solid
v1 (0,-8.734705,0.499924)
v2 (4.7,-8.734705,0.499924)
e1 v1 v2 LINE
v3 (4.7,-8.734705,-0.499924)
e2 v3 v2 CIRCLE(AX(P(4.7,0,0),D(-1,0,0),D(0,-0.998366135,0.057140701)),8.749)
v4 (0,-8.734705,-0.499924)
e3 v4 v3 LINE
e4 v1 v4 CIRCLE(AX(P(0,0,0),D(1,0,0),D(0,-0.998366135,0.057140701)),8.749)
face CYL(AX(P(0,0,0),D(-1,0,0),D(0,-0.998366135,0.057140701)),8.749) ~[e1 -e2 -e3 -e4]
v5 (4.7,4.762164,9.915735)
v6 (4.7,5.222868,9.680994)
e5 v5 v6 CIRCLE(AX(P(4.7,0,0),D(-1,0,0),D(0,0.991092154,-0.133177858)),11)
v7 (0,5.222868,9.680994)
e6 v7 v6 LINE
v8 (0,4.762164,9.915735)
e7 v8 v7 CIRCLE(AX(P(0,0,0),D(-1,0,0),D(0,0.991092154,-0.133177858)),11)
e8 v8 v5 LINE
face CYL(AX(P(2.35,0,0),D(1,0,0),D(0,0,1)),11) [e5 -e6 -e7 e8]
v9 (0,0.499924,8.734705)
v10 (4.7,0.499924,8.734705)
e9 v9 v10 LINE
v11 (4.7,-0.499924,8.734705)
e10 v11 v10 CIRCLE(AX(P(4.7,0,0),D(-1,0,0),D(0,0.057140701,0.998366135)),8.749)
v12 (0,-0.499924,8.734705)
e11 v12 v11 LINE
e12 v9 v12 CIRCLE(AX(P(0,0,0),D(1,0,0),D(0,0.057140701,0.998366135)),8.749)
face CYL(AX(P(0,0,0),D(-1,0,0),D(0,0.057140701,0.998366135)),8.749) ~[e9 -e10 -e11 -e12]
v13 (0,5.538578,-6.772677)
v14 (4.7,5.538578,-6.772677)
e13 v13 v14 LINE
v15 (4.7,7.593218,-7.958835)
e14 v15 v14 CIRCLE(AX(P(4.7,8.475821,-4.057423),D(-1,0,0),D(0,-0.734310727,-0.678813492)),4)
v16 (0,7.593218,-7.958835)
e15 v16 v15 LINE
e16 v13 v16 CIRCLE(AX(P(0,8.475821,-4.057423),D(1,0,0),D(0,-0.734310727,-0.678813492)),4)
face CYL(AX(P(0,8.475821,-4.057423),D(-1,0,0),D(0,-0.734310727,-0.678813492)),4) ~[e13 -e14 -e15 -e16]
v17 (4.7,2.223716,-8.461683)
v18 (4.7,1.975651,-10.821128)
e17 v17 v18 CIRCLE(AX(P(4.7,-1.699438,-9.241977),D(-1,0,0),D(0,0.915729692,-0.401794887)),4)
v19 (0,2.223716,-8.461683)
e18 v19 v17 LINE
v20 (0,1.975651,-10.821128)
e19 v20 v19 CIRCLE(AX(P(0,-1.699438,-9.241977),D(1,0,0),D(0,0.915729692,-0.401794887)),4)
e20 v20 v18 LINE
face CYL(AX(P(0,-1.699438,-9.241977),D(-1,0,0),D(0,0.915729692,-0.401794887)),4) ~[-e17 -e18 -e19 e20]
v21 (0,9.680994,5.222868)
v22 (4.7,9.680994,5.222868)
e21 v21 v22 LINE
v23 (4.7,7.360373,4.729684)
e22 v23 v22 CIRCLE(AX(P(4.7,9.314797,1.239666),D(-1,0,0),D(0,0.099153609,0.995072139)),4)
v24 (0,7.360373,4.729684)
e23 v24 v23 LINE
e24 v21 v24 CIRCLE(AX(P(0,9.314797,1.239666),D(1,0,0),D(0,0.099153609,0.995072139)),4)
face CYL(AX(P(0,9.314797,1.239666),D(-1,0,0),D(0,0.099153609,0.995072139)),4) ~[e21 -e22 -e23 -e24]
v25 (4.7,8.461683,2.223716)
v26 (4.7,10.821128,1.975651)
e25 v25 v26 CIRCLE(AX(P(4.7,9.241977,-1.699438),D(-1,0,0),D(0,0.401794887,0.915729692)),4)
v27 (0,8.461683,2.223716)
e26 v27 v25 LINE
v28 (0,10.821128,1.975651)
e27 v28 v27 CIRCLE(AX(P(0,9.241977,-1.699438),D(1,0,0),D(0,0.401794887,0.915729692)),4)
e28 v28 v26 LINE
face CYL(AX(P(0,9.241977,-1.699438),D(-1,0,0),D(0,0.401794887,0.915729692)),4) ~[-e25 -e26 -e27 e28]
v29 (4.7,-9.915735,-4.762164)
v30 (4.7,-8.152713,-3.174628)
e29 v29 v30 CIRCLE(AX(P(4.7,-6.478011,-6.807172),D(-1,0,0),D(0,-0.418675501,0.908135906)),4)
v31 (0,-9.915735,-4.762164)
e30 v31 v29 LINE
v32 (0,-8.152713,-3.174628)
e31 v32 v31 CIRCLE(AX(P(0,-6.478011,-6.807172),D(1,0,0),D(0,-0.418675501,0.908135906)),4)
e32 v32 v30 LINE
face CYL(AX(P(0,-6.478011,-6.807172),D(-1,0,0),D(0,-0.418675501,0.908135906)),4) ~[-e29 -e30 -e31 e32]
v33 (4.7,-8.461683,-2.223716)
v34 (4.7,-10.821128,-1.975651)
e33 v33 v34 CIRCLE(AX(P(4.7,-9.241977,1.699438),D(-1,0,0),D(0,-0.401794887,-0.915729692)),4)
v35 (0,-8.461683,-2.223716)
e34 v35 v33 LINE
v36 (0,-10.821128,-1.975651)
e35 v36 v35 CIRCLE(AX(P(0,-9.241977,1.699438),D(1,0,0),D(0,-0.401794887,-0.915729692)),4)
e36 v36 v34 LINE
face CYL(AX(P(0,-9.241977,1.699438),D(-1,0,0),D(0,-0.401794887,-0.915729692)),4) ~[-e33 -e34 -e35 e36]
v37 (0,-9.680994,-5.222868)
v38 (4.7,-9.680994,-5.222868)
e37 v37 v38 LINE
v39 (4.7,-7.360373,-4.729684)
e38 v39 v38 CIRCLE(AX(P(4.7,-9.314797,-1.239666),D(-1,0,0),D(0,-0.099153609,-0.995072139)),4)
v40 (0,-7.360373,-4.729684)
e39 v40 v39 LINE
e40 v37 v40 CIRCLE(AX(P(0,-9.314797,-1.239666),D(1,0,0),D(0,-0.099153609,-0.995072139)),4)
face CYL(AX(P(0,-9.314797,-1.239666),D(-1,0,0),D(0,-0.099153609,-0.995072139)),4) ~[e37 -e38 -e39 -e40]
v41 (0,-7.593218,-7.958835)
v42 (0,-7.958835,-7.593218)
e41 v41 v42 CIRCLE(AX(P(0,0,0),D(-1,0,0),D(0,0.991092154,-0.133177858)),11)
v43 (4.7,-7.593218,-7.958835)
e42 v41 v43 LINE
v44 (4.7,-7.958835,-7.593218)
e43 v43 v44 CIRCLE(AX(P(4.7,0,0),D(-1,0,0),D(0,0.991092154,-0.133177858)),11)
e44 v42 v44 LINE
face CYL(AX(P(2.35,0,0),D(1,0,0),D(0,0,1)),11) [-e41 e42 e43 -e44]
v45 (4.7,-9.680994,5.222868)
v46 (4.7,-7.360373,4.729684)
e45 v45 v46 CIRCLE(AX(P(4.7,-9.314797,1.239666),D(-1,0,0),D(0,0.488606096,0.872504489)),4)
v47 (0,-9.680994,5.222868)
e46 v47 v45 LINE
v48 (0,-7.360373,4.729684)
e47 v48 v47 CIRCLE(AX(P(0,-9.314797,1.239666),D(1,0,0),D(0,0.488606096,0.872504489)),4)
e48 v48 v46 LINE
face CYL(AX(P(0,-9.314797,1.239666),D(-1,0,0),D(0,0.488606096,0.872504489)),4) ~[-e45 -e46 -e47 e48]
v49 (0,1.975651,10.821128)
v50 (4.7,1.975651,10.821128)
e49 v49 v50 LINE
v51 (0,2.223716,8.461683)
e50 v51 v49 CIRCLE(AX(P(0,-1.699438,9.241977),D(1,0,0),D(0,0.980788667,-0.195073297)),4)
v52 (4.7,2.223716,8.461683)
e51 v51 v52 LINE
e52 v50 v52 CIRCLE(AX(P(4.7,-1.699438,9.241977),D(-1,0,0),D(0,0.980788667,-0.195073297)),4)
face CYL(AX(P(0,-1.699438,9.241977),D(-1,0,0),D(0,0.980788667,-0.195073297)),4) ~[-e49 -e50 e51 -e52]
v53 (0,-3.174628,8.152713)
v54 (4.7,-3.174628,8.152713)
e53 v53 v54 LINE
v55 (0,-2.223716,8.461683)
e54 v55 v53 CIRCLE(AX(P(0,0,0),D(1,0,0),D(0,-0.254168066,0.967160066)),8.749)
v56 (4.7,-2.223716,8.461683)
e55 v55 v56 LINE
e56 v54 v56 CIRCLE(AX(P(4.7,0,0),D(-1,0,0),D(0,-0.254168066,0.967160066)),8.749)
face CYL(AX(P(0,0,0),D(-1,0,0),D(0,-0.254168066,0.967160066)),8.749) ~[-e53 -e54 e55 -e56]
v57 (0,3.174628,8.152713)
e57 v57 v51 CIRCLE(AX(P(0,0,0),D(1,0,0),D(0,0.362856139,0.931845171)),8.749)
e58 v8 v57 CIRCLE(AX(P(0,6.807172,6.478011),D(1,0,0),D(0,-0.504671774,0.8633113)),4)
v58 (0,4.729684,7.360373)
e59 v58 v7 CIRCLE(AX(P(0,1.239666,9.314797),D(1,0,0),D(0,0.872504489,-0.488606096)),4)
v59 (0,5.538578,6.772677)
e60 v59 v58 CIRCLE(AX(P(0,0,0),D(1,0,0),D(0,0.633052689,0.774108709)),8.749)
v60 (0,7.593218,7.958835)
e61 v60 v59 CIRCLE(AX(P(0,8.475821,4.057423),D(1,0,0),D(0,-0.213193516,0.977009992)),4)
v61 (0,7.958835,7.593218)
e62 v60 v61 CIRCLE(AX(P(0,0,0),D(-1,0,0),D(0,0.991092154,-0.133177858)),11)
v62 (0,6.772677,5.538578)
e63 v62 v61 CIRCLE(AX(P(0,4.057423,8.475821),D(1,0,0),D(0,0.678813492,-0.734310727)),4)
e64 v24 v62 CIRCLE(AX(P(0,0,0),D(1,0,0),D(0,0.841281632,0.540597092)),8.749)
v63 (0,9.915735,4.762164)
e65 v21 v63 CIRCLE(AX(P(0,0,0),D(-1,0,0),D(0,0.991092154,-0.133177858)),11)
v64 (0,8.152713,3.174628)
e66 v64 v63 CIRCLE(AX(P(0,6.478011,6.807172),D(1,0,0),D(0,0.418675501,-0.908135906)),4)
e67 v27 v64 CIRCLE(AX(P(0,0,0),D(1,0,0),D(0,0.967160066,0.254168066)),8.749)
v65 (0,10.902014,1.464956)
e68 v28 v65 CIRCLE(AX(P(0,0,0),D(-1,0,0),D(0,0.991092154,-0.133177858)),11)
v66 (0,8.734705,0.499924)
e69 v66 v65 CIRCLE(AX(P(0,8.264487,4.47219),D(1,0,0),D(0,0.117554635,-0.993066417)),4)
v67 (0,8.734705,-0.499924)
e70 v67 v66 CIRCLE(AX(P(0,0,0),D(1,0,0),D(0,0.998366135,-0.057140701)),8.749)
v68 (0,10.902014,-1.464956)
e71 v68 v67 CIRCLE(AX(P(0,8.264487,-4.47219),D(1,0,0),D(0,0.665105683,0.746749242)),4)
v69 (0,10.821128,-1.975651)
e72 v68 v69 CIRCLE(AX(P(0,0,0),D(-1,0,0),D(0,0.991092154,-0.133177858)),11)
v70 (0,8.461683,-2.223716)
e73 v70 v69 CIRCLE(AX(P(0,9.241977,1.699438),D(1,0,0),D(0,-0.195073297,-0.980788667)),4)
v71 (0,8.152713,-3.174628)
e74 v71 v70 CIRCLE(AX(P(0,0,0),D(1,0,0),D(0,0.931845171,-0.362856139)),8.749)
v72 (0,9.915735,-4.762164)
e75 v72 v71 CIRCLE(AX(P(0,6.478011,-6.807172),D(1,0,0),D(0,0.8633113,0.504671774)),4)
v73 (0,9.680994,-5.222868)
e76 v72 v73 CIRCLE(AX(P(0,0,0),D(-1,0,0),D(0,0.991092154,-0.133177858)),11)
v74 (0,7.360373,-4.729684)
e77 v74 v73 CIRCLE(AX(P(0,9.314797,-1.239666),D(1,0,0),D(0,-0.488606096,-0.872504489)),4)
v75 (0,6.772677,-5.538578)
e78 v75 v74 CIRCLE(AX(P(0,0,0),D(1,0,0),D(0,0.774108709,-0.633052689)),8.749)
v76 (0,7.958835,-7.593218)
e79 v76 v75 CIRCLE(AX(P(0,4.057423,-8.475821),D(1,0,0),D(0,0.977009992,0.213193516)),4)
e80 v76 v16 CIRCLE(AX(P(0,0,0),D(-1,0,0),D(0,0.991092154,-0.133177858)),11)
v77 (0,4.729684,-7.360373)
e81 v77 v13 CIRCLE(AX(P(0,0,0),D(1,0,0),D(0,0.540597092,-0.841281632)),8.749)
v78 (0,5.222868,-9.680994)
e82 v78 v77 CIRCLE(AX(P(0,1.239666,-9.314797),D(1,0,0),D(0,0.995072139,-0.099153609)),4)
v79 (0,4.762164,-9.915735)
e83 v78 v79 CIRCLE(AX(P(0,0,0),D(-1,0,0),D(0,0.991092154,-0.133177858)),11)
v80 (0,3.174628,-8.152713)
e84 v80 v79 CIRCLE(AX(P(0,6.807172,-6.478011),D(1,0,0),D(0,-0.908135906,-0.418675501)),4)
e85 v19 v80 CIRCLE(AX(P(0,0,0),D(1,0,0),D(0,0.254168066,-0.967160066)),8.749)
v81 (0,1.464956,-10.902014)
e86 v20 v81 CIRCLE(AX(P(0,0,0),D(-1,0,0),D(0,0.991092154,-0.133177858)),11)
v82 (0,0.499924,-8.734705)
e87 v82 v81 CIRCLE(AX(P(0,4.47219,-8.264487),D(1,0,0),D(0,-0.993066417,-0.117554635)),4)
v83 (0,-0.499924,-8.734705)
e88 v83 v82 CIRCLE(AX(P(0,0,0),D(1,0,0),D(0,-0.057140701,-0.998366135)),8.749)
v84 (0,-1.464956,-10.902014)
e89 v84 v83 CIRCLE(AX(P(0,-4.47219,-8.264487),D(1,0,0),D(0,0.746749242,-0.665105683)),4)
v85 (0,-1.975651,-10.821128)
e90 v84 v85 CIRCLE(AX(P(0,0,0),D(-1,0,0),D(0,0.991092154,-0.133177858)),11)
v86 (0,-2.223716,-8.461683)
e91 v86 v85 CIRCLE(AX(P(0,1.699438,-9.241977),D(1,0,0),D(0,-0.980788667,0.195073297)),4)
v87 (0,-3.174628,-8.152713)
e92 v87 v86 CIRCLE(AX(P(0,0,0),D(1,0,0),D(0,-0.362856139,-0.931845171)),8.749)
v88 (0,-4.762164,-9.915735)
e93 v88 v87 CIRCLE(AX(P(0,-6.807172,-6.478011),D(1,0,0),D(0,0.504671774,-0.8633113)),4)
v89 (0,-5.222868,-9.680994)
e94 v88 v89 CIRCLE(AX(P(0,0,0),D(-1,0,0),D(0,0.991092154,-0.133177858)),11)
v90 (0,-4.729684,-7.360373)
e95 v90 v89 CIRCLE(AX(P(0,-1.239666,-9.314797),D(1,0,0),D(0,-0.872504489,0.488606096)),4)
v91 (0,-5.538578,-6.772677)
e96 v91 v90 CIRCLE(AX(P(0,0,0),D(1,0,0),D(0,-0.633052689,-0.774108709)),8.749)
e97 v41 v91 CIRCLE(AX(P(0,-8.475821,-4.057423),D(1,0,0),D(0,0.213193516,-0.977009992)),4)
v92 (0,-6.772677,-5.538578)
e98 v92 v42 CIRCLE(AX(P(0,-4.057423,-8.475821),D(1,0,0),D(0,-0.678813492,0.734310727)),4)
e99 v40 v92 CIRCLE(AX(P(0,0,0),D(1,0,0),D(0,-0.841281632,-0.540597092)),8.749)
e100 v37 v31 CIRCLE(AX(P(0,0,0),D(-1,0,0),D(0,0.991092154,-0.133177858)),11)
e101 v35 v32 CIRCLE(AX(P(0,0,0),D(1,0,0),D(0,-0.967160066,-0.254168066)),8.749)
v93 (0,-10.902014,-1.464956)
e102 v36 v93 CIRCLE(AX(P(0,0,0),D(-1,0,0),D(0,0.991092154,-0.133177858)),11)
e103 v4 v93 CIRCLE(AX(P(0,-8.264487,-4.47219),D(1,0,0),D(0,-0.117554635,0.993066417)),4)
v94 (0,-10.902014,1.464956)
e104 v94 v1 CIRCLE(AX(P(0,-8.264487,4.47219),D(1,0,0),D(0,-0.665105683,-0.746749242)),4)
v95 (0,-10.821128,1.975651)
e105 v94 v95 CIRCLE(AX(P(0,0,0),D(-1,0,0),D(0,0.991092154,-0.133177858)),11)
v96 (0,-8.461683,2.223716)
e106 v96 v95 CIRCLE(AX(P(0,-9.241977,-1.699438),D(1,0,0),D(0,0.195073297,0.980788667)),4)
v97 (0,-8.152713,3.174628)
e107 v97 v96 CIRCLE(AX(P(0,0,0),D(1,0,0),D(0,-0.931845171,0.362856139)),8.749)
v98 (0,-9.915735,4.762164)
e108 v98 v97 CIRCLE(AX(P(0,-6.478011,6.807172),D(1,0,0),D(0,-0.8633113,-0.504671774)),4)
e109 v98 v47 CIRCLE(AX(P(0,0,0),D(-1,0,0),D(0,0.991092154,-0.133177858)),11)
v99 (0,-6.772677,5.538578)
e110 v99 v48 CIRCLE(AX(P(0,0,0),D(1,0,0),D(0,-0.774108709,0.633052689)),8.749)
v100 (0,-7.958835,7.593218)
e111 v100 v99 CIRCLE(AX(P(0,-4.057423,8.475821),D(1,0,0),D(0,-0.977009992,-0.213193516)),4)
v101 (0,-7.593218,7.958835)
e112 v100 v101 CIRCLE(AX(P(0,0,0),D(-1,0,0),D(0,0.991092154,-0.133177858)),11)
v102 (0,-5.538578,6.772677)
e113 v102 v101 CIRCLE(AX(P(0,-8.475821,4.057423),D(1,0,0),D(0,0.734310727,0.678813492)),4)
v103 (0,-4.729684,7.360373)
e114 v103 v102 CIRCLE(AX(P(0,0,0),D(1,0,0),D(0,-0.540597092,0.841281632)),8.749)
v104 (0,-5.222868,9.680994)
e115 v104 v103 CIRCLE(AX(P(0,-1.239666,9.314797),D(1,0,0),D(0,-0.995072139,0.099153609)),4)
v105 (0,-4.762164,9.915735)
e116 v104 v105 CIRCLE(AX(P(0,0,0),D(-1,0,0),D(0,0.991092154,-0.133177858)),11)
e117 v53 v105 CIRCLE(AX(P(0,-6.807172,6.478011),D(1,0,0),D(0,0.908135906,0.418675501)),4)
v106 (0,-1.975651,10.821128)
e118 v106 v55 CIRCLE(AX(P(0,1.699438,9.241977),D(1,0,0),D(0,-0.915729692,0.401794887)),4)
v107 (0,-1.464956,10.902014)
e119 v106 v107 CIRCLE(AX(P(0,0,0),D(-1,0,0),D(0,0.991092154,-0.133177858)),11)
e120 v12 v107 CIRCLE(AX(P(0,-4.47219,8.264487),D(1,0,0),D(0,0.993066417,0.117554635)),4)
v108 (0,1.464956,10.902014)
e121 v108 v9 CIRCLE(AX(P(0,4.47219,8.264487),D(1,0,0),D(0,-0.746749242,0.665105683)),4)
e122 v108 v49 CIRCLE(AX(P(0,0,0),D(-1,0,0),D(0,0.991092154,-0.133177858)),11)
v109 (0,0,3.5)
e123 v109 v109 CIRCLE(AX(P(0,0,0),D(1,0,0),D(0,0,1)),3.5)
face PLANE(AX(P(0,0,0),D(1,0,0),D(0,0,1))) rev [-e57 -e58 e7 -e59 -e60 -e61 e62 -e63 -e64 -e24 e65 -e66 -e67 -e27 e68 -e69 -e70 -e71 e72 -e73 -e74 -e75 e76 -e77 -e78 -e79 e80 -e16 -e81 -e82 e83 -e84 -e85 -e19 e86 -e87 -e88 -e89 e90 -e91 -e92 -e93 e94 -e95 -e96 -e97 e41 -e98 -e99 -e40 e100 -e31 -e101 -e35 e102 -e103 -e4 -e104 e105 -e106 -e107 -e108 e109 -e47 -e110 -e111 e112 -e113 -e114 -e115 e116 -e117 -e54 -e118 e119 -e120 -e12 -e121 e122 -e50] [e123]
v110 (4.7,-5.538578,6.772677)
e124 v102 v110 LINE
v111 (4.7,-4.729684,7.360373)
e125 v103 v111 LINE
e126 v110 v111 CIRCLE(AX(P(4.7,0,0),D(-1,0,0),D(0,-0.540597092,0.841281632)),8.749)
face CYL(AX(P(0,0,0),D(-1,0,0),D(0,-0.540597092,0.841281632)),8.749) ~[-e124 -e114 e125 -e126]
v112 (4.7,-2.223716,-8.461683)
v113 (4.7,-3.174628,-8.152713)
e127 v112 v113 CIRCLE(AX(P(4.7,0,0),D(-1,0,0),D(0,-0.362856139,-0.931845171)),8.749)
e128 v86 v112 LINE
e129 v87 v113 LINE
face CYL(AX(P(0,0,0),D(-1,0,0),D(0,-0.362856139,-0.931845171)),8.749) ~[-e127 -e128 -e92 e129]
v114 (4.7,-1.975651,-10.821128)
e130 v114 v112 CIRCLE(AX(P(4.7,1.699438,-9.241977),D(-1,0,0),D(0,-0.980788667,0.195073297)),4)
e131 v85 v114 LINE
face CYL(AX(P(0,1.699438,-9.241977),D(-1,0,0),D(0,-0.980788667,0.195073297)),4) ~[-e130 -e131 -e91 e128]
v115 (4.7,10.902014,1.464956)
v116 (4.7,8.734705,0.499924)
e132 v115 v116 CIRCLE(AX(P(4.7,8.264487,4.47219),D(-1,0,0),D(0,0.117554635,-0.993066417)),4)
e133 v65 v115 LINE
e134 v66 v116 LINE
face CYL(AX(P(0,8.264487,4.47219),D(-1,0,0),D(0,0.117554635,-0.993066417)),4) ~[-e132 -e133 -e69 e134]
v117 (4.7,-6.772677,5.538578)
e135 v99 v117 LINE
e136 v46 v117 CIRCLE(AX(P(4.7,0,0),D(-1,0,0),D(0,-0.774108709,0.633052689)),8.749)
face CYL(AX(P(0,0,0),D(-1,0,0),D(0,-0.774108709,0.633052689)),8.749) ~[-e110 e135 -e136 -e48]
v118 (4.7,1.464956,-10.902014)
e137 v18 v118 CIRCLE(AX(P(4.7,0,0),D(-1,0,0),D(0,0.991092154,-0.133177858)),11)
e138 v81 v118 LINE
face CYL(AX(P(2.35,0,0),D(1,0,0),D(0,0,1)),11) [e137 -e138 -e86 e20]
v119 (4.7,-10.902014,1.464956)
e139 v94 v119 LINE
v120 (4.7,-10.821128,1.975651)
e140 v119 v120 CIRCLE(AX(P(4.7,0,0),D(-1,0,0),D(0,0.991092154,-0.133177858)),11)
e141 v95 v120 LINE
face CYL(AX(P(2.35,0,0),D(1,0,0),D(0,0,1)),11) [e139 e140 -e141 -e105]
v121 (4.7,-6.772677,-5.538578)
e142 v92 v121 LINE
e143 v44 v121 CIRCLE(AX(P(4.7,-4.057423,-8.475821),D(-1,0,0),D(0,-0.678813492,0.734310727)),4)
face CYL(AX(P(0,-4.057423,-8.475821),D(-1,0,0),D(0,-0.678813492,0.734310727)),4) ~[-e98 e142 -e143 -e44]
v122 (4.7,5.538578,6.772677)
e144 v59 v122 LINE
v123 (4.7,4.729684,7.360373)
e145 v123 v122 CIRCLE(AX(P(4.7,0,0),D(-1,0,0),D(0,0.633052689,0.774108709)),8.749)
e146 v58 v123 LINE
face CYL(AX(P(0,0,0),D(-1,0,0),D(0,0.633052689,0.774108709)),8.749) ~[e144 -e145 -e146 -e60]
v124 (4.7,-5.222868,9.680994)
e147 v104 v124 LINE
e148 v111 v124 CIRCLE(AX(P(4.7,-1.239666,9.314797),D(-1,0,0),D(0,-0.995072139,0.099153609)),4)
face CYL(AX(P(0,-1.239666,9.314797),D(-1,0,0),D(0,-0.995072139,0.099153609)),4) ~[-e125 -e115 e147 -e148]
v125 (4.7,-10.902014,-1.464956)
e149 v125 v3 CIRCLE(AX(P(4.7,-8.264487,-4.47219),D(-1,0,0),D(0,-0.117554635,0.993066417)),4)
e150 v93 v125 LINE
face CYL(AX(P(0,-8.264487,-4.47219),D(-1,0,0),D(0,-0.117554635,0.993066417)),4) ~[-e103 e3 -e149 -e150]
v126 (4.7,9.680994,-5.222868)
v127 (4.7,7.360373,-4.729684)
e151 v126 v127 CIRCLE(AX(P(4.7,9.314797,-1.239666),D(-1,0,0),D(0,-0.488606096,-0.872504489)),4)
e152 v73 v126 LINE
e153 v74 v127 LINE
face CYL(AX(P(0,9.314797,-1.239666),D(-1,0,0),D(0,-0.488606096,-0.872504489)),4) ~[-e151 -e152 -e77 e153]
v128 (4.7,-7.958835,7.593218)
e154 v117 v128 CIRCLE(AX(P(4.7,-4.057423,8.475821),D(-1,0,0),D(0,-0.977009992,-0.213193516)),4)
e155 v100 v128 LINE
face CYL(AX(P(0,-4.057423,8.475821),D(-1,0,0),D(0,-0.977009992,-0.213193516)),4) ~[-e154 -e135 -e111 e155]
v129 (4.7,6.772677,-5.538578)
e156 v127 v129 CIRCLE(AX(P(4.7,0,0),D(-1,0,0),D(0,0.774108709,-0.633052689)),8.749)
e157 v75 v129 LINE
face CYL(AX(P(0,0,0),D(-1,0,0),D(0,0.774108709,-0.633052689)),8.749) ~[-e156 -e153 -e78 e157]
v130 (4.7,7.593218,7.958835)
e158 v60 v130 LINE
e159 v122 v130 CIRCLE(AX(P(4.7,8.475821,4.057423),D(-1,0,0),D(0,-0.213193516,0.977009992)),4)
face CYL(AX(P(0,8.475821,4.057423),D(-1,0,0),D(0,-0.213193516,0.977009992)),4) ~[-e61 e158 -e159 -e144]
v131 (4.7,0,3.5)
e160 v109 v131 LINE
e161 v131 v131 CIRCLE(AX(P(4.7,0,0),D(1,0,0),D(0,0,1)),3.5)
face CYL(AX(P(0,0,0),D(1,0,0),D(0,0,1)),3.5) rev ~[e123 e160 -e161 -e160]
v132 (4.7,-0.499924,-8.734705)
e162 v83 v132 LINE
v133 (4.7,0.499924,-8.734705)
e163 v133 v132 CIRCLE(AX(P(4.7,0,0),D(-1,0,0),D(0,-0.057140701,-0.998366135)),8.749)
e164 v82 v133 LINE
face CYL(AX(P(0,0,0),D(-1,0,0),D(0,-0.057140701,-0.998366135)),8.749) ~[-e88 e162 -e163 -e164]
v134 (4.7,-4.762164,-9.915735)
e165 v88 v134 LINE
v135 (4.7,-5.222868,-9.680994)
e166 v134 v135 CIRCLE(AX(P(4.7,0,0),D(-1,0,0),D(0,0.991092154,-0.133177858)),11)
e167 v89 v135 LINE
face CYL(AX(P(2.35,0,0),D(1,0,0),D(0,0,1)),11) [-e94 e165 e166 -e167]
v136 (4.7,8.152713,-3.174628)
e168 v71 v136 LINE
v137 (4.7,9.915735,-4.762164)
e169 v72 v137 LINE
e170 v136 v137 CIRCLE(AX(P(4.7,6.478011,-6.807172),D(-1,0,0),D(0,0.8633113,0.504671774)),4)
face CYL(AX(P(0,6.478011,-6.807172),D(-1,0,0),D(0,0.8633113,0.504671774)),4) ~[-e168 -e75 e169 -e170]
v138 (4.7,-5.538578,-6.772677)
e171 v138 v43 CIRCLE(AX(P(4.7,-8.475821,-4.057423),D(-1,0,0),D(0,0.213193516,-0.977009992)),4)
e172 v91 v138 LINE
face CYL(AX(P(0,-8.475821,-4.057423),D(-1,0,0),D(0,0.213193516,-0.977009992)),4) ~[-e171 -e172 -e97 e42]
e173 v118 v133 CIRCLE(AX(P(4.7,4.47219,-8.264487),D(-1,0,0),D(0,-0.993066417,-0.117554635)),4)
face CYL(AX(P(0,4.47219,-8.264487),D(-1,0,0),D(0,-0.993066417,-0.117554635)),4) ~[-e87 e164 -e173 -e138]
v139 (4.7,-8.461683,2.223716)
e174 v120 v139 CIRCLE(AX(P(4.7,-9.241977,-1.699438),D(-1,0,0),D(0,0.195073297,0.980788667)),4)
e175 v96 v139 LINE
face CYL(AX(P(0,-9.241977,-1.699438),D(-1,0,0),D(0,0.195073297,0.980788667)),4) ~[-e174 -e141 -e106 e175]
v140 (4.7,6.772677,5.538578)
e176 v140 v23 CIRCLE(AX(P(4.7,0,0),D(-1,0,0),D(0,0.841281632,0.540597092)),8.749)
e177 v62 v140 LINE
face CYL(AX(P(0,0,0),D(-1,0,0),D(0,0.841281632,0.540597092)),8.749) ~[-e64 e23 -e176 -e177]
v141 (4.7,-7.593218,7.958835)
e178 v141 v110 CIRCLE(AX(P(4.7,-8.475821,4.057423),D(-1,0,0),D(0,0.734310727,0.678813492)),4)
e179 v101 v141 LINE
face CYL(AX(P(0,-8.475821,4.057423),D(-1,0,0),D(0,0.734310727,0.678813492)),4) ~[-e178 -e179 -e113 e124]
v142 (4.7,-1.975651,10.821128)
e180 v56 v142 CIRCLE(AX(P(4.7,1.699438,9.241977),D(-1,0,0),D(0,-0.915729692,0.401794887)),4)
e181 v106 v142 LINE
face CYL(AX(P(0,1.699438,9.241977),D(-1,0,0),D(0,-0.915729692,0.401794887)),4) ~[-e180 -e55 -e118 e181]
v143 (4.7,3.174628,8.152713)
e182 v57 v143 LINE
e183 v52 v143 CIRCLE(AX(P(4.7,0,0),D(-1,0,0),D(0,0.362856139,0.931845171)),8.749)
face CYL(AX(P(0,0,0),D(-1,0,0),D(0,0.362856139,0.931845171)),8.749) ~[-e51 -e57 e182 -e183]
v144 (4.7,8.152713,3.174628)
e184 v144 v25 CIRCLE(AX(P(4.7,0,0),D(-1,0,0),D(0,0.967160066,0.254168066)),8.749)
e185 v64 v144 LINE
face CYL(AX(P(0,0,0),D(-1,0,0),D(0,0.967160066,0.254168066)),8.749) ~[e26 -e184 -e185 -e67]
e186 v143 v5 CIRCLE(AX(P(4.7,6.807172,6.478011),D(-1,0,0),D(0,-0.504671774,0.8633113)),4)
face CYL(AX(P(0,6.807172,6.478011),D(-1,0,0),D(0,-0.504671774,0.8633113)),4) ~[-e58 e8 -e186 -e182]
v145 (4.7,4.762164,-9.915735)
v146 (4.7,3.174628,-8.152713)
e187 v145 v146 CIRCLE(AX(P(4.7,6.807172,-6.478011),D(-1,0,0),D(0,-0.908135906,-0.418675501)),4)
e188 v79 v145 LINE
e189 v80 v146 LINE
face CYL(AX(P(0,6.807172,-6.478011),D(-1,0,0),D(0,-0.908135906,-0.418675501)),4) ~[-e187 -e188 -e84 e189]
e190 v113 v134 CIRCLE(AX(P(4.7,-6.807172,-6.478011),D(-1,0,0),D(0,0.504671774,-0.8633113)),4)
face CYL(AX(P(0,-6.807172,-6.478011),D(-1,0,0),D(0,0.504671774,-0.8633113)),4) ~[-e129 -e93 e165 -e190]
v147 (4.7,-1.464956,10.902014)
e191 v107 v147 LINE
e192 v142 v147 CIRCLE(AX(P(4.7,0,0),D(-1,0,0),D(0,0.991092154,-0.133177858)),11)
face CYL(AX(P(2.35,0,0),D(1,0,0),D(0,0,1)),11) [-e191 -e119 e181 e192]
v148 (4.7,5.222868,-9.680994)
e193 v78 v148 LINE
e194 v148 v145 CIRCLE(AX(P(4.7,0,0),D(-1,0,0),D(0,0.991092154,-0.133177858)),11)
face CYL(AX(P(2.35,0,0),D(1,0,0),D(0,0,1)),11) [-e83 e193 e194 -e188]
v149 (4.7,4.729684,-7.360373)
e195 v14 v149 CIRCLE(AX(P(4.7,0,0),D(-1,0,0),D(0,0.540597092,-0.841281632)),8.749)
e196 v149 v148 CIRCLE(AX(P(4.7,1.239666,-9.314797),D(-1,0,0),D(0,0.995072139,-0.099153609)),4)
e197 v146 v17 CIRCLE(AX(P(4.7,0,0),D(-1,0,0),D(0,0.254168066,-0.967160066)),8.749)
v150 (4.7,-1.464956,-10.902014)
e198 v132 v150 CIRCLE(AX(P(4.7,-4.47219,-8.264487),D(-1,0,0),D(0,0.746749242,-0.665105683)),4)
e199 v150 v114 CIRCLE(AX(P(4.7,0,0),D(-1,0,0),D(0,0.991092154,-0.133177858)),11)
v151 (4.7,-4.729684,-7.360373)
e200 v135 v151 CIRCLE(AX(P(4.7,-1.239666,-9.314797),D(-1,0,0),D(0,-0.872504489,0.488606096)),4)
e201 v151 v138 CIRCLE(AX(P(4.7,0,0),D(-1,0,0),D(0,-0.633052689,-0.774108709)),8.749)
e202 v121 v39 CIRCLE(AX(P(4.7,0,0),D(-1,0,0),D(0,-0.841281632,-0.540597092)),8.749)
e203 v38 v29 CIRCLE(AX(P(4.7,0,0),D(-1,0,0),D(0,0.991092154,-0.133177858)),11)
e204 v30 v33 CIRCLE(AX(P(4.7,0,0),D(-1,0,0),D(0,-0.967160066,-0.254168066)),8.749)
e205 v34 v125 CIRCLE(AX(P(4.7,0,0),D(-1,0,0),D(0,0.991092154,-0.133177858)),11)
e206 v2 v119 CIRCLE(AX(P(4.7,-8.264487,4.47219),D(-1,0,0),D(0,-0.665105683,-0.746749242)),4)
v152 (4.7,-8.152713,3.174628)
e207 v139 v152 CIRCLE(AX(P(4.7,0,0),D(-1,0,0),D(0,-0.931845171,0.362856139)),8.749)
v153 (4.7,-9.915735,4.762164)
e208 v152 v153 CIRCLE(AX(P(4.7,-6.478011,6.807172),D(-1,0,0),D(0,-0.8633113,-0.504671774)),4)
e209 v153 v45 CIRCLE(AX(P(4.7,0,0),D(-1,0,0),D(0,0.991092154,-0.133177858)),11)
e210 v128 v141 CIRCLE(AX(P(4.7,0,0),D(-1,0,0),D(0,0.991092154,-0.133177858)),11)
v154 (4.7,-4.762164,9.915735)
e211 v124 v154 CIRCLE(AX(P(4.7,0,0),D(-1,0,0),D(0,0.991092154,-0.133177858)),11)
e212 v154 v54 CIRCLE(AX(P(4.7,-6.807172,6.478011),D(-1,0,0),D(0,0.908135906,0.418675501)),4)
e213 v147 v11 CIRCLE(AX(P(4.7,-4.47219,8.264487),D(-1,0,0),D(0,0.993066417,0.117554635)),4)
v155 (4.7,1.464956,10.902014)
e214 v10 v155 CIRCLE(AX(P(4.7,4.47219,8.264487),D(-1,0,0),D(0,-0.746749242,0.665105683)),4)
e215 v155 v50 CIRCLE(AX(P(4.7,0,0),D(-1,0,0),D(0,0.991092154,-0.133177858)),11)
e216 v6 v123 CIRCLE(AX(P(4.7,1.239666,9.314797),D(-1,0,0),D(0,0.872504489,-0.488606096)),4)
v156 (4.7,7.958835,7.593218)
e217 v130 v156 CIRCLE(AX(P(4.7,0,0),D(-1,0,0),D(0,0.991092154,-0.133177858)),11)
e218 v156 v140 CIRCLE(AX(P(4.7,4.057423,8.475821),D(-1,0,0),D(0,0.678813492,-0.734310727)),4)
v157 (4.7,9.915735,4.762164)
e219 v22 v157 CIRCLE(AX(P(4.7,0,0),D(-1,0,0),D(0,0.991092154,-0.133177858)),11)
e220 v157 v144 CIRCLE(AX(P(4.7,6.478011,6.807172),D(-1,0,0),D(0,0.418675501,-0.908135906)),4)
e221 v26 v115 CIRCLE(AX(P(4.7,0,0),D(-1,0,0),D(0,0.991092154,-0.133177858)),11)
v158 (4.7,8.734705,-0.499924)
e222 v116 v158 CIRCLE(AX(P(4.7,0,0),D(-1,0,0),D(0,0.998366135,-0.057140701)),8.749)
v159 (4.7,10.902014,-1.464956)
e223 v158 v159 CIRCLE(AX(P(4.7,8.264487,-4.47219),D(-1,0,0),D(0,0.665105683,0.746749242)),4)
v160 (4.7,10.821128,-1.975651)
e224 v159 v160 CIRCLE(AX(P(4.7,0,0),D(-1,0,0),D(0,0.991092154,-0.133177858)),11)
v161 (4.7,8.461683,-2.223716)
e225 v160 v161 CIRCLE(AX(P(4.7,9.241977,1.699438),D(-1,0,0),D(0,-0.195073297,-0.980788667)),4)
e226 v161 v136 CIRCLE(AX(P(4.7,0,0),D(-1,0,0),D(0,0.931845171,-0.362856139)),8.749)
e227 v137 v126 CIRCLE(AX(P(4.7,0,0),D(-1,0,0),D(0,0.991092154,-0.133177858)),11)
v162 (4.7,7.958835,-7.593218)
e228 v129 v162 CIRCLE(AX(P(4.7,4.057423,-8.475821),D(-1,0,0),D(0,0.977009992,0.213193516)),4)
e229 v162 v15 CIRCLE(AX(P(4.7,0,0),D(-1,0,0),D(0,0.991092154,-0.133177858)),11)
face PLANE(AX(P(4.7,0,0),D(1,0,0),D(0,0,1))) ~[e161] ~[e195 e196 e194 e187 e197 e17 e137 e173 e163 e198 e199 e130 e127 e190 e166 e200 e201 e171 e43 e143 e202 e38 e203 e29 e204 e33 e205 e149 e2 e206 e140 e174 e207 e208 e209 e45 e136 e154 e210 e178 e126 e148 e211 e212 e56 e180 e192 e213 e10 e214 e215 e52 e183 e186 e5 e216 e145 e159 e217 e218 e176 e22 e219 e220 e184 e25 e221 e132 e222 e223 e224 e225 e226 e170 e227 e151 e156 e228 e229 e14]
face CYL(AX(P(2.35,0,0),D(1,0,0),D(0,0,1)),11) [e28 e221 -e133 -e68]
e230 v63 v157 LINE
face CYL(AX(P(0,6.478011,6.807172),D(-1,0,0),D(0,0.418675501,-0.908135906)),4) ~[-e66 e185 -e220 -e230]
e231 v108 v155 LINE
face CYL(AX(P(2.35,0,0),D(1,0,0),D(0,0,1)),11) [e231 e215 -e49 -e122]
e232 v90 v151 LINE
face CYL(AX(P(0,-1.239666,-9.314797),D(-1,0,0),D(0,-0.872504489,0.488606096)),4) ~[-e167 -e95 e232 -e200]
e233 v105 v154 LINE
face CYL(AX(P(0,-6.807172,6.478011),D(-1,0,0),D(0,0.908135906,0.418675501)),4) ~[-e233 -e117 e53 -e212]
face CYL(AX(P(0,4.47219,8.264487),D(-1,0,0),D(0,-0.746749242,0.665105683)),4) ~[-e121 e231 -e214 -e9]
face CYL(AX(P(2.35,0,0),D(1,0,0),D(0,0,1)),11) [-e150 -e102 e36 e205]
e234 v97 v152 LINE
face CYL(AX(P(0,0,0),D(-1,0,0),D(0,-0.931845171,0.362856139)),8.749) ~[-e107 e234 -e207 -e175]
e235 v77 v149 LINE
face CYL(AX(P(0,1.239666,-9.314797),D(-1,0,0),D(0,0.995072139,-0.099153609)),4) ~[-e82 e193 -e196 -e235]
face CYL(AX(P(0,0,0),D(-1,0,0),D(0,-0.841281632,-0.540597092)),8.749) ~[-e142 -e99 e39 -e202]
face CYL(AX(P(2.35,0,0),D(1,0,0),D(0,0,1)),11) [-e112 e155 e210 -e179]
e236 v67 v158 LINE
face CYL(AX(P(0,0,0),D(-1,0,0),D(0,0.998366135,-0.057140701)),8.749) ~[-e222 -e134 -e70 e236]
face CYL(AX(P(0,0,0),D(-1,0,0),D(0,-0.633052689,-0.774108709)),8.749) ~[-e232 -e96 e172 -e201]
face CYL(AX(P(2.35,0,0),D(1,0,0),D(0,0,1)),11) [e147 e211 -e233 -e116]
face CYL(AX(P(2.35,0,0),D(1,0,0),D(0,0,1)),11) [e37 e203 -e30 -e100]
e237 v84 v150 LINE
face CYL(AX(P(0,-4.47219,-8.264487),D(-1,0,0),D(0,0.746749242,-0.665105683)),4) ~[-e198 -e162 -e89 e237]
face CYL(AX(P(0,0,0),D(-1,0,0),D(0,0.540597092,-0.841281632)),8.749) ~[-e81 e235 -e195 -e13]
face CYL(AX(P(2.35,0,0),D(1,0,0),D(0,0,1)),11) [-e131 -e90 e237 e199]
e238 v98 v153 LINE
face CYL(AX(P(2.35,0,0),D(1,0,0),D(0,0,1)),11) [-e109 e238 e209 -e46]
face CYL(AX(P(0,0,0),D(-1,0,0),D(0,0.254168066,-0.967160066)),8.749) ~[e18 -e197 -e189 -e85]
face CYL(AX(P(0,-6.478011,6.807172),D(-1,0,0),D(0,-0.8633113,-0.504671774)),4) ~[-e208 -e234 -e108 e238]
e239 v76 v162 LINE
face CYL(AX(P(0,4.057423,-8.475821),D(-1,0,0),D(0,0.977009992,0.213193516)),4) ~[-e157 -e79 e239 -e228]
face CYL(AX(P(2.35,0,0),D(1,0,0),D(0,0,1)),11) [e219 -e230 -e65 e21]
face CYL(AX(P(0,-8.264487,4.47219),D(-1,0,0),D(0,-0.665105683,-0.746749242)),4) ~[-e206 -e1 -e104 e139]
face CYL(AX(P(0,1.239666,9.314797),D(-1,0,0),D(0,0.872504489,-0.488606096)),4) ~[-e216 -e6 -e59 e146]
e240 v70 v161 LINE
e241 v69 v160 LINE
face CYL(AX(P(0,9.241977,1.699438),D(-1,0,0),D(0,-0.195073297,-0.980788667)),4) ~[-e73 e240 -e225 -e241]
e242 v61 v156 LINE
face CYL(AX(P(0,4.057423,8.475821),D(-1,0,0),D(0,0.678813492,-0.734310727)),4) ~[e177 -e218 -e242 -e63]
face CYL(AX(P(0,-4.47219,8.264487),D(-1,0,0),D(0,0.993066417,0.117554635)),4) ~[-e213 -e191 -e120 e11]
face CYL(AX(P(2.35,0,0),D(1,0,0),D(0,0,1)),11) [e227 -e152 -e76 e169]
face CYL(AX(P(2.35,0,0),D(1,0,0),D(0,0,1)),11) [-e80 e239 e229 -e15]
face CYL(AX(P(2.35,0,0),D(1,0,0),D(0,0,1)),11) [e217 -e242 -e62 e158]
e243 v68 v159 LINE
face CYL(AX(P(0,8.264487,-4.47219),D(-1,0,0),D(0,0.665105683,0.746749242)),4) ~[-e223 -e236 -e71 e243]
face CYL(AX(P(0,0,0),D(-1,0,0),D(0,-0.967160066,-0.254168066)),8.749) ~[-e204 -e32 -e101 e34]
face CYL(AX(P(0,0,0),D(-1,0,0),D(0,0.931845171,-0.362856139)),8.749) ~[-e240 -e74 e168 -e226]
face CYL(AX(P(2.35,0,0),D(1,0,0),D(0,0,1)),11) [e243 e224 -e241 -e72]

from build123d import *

# Parameters (mm, degrees)
BASPROSKE_W     = 4.7
BASPROSKE_H     = 11
TOOTHCUT_DEPTH  = 17.250846132
TEETHCUTS_COUNT = 20
TEETHCUTS_ANGLE = 342
BORSKE_R        = 3.5
BORE_DEPTH      = 50.0000508


with BuildPart() as part:
    # BasProSke → Base-Revolve (revolve)
    with BuildSketch(Plane(origin=(0, 0, 0), x_dir=(1, 0, 0), z_dir=(0, 1, 0)), mode=Mode.PRIVATE) as base_revolve_sk:
        with Locations((2.35, 5.5)):
            Rectangle(BASPROSKE_W, BASPROSKE_H)
    revolve(base_revolve_sk.sketch.rotate(Axis((-10, 0, 0), (1, 0, 0)), 180), axis=Axis((-10, 0, 0), (1, 0, 0)))

    # TooCutSke → ToothCut (cut, through all)
    with BuildSketch(Plane(origin=(0, 0, 0), x_dir=(0, 0, -1), z_dir=(1, 0, 0))):
        with BuildLine():
            ThreePointArc((0.499924007, 8.734705318), (0, 8.749), (-0.499924007, 8.734705318))
            ThreePointArc((-0.499924007, 8.734705318), (-0.824302243, 9.905497836), (-1.485192705, 10.924909509))
            ThreePointArc((-1.485192705, 10.924909509), (0, 11.0254), (1.485192705, 10.924909509))
            ThreePointArc((1.485192705, 10.924909509), (0.824302243, 9.905497836), (0.499924007, 8.734705318))
        make_face()
    toothcut = extrude(amount=TOOTHCUT_DEPTH, mode=Mode.SUBTRACT)

    # TeethCuts: ToothCut ×20 about axis
    teethcuts_axis = Axis((-10, 0, 0), (1, 0, 0))
    for i in range(1, TEETHCUTS_COUNT):
        add(toothcut.rotate(teethcuts_axis, i * TEETHCUTS_ANGLE / (TEETHCUTS_COUNT - 1)), mode=Mode.SUBTRACT)

    # BorSke → Bore (cut, symmetric)
    with BuildSketch(Plane(origin=(0, 0, 0), x_dir=(0, 0, -1), z_dir=(1, 0, 0))):
        with Locations(Location((0, 0, 0), (0, 0, 180))):
            Circle(BORSKE_R)
    extrude(amount=BORE_DEPTH, both=True, mode=Mode.SUBTRACT)


solid = part.part
